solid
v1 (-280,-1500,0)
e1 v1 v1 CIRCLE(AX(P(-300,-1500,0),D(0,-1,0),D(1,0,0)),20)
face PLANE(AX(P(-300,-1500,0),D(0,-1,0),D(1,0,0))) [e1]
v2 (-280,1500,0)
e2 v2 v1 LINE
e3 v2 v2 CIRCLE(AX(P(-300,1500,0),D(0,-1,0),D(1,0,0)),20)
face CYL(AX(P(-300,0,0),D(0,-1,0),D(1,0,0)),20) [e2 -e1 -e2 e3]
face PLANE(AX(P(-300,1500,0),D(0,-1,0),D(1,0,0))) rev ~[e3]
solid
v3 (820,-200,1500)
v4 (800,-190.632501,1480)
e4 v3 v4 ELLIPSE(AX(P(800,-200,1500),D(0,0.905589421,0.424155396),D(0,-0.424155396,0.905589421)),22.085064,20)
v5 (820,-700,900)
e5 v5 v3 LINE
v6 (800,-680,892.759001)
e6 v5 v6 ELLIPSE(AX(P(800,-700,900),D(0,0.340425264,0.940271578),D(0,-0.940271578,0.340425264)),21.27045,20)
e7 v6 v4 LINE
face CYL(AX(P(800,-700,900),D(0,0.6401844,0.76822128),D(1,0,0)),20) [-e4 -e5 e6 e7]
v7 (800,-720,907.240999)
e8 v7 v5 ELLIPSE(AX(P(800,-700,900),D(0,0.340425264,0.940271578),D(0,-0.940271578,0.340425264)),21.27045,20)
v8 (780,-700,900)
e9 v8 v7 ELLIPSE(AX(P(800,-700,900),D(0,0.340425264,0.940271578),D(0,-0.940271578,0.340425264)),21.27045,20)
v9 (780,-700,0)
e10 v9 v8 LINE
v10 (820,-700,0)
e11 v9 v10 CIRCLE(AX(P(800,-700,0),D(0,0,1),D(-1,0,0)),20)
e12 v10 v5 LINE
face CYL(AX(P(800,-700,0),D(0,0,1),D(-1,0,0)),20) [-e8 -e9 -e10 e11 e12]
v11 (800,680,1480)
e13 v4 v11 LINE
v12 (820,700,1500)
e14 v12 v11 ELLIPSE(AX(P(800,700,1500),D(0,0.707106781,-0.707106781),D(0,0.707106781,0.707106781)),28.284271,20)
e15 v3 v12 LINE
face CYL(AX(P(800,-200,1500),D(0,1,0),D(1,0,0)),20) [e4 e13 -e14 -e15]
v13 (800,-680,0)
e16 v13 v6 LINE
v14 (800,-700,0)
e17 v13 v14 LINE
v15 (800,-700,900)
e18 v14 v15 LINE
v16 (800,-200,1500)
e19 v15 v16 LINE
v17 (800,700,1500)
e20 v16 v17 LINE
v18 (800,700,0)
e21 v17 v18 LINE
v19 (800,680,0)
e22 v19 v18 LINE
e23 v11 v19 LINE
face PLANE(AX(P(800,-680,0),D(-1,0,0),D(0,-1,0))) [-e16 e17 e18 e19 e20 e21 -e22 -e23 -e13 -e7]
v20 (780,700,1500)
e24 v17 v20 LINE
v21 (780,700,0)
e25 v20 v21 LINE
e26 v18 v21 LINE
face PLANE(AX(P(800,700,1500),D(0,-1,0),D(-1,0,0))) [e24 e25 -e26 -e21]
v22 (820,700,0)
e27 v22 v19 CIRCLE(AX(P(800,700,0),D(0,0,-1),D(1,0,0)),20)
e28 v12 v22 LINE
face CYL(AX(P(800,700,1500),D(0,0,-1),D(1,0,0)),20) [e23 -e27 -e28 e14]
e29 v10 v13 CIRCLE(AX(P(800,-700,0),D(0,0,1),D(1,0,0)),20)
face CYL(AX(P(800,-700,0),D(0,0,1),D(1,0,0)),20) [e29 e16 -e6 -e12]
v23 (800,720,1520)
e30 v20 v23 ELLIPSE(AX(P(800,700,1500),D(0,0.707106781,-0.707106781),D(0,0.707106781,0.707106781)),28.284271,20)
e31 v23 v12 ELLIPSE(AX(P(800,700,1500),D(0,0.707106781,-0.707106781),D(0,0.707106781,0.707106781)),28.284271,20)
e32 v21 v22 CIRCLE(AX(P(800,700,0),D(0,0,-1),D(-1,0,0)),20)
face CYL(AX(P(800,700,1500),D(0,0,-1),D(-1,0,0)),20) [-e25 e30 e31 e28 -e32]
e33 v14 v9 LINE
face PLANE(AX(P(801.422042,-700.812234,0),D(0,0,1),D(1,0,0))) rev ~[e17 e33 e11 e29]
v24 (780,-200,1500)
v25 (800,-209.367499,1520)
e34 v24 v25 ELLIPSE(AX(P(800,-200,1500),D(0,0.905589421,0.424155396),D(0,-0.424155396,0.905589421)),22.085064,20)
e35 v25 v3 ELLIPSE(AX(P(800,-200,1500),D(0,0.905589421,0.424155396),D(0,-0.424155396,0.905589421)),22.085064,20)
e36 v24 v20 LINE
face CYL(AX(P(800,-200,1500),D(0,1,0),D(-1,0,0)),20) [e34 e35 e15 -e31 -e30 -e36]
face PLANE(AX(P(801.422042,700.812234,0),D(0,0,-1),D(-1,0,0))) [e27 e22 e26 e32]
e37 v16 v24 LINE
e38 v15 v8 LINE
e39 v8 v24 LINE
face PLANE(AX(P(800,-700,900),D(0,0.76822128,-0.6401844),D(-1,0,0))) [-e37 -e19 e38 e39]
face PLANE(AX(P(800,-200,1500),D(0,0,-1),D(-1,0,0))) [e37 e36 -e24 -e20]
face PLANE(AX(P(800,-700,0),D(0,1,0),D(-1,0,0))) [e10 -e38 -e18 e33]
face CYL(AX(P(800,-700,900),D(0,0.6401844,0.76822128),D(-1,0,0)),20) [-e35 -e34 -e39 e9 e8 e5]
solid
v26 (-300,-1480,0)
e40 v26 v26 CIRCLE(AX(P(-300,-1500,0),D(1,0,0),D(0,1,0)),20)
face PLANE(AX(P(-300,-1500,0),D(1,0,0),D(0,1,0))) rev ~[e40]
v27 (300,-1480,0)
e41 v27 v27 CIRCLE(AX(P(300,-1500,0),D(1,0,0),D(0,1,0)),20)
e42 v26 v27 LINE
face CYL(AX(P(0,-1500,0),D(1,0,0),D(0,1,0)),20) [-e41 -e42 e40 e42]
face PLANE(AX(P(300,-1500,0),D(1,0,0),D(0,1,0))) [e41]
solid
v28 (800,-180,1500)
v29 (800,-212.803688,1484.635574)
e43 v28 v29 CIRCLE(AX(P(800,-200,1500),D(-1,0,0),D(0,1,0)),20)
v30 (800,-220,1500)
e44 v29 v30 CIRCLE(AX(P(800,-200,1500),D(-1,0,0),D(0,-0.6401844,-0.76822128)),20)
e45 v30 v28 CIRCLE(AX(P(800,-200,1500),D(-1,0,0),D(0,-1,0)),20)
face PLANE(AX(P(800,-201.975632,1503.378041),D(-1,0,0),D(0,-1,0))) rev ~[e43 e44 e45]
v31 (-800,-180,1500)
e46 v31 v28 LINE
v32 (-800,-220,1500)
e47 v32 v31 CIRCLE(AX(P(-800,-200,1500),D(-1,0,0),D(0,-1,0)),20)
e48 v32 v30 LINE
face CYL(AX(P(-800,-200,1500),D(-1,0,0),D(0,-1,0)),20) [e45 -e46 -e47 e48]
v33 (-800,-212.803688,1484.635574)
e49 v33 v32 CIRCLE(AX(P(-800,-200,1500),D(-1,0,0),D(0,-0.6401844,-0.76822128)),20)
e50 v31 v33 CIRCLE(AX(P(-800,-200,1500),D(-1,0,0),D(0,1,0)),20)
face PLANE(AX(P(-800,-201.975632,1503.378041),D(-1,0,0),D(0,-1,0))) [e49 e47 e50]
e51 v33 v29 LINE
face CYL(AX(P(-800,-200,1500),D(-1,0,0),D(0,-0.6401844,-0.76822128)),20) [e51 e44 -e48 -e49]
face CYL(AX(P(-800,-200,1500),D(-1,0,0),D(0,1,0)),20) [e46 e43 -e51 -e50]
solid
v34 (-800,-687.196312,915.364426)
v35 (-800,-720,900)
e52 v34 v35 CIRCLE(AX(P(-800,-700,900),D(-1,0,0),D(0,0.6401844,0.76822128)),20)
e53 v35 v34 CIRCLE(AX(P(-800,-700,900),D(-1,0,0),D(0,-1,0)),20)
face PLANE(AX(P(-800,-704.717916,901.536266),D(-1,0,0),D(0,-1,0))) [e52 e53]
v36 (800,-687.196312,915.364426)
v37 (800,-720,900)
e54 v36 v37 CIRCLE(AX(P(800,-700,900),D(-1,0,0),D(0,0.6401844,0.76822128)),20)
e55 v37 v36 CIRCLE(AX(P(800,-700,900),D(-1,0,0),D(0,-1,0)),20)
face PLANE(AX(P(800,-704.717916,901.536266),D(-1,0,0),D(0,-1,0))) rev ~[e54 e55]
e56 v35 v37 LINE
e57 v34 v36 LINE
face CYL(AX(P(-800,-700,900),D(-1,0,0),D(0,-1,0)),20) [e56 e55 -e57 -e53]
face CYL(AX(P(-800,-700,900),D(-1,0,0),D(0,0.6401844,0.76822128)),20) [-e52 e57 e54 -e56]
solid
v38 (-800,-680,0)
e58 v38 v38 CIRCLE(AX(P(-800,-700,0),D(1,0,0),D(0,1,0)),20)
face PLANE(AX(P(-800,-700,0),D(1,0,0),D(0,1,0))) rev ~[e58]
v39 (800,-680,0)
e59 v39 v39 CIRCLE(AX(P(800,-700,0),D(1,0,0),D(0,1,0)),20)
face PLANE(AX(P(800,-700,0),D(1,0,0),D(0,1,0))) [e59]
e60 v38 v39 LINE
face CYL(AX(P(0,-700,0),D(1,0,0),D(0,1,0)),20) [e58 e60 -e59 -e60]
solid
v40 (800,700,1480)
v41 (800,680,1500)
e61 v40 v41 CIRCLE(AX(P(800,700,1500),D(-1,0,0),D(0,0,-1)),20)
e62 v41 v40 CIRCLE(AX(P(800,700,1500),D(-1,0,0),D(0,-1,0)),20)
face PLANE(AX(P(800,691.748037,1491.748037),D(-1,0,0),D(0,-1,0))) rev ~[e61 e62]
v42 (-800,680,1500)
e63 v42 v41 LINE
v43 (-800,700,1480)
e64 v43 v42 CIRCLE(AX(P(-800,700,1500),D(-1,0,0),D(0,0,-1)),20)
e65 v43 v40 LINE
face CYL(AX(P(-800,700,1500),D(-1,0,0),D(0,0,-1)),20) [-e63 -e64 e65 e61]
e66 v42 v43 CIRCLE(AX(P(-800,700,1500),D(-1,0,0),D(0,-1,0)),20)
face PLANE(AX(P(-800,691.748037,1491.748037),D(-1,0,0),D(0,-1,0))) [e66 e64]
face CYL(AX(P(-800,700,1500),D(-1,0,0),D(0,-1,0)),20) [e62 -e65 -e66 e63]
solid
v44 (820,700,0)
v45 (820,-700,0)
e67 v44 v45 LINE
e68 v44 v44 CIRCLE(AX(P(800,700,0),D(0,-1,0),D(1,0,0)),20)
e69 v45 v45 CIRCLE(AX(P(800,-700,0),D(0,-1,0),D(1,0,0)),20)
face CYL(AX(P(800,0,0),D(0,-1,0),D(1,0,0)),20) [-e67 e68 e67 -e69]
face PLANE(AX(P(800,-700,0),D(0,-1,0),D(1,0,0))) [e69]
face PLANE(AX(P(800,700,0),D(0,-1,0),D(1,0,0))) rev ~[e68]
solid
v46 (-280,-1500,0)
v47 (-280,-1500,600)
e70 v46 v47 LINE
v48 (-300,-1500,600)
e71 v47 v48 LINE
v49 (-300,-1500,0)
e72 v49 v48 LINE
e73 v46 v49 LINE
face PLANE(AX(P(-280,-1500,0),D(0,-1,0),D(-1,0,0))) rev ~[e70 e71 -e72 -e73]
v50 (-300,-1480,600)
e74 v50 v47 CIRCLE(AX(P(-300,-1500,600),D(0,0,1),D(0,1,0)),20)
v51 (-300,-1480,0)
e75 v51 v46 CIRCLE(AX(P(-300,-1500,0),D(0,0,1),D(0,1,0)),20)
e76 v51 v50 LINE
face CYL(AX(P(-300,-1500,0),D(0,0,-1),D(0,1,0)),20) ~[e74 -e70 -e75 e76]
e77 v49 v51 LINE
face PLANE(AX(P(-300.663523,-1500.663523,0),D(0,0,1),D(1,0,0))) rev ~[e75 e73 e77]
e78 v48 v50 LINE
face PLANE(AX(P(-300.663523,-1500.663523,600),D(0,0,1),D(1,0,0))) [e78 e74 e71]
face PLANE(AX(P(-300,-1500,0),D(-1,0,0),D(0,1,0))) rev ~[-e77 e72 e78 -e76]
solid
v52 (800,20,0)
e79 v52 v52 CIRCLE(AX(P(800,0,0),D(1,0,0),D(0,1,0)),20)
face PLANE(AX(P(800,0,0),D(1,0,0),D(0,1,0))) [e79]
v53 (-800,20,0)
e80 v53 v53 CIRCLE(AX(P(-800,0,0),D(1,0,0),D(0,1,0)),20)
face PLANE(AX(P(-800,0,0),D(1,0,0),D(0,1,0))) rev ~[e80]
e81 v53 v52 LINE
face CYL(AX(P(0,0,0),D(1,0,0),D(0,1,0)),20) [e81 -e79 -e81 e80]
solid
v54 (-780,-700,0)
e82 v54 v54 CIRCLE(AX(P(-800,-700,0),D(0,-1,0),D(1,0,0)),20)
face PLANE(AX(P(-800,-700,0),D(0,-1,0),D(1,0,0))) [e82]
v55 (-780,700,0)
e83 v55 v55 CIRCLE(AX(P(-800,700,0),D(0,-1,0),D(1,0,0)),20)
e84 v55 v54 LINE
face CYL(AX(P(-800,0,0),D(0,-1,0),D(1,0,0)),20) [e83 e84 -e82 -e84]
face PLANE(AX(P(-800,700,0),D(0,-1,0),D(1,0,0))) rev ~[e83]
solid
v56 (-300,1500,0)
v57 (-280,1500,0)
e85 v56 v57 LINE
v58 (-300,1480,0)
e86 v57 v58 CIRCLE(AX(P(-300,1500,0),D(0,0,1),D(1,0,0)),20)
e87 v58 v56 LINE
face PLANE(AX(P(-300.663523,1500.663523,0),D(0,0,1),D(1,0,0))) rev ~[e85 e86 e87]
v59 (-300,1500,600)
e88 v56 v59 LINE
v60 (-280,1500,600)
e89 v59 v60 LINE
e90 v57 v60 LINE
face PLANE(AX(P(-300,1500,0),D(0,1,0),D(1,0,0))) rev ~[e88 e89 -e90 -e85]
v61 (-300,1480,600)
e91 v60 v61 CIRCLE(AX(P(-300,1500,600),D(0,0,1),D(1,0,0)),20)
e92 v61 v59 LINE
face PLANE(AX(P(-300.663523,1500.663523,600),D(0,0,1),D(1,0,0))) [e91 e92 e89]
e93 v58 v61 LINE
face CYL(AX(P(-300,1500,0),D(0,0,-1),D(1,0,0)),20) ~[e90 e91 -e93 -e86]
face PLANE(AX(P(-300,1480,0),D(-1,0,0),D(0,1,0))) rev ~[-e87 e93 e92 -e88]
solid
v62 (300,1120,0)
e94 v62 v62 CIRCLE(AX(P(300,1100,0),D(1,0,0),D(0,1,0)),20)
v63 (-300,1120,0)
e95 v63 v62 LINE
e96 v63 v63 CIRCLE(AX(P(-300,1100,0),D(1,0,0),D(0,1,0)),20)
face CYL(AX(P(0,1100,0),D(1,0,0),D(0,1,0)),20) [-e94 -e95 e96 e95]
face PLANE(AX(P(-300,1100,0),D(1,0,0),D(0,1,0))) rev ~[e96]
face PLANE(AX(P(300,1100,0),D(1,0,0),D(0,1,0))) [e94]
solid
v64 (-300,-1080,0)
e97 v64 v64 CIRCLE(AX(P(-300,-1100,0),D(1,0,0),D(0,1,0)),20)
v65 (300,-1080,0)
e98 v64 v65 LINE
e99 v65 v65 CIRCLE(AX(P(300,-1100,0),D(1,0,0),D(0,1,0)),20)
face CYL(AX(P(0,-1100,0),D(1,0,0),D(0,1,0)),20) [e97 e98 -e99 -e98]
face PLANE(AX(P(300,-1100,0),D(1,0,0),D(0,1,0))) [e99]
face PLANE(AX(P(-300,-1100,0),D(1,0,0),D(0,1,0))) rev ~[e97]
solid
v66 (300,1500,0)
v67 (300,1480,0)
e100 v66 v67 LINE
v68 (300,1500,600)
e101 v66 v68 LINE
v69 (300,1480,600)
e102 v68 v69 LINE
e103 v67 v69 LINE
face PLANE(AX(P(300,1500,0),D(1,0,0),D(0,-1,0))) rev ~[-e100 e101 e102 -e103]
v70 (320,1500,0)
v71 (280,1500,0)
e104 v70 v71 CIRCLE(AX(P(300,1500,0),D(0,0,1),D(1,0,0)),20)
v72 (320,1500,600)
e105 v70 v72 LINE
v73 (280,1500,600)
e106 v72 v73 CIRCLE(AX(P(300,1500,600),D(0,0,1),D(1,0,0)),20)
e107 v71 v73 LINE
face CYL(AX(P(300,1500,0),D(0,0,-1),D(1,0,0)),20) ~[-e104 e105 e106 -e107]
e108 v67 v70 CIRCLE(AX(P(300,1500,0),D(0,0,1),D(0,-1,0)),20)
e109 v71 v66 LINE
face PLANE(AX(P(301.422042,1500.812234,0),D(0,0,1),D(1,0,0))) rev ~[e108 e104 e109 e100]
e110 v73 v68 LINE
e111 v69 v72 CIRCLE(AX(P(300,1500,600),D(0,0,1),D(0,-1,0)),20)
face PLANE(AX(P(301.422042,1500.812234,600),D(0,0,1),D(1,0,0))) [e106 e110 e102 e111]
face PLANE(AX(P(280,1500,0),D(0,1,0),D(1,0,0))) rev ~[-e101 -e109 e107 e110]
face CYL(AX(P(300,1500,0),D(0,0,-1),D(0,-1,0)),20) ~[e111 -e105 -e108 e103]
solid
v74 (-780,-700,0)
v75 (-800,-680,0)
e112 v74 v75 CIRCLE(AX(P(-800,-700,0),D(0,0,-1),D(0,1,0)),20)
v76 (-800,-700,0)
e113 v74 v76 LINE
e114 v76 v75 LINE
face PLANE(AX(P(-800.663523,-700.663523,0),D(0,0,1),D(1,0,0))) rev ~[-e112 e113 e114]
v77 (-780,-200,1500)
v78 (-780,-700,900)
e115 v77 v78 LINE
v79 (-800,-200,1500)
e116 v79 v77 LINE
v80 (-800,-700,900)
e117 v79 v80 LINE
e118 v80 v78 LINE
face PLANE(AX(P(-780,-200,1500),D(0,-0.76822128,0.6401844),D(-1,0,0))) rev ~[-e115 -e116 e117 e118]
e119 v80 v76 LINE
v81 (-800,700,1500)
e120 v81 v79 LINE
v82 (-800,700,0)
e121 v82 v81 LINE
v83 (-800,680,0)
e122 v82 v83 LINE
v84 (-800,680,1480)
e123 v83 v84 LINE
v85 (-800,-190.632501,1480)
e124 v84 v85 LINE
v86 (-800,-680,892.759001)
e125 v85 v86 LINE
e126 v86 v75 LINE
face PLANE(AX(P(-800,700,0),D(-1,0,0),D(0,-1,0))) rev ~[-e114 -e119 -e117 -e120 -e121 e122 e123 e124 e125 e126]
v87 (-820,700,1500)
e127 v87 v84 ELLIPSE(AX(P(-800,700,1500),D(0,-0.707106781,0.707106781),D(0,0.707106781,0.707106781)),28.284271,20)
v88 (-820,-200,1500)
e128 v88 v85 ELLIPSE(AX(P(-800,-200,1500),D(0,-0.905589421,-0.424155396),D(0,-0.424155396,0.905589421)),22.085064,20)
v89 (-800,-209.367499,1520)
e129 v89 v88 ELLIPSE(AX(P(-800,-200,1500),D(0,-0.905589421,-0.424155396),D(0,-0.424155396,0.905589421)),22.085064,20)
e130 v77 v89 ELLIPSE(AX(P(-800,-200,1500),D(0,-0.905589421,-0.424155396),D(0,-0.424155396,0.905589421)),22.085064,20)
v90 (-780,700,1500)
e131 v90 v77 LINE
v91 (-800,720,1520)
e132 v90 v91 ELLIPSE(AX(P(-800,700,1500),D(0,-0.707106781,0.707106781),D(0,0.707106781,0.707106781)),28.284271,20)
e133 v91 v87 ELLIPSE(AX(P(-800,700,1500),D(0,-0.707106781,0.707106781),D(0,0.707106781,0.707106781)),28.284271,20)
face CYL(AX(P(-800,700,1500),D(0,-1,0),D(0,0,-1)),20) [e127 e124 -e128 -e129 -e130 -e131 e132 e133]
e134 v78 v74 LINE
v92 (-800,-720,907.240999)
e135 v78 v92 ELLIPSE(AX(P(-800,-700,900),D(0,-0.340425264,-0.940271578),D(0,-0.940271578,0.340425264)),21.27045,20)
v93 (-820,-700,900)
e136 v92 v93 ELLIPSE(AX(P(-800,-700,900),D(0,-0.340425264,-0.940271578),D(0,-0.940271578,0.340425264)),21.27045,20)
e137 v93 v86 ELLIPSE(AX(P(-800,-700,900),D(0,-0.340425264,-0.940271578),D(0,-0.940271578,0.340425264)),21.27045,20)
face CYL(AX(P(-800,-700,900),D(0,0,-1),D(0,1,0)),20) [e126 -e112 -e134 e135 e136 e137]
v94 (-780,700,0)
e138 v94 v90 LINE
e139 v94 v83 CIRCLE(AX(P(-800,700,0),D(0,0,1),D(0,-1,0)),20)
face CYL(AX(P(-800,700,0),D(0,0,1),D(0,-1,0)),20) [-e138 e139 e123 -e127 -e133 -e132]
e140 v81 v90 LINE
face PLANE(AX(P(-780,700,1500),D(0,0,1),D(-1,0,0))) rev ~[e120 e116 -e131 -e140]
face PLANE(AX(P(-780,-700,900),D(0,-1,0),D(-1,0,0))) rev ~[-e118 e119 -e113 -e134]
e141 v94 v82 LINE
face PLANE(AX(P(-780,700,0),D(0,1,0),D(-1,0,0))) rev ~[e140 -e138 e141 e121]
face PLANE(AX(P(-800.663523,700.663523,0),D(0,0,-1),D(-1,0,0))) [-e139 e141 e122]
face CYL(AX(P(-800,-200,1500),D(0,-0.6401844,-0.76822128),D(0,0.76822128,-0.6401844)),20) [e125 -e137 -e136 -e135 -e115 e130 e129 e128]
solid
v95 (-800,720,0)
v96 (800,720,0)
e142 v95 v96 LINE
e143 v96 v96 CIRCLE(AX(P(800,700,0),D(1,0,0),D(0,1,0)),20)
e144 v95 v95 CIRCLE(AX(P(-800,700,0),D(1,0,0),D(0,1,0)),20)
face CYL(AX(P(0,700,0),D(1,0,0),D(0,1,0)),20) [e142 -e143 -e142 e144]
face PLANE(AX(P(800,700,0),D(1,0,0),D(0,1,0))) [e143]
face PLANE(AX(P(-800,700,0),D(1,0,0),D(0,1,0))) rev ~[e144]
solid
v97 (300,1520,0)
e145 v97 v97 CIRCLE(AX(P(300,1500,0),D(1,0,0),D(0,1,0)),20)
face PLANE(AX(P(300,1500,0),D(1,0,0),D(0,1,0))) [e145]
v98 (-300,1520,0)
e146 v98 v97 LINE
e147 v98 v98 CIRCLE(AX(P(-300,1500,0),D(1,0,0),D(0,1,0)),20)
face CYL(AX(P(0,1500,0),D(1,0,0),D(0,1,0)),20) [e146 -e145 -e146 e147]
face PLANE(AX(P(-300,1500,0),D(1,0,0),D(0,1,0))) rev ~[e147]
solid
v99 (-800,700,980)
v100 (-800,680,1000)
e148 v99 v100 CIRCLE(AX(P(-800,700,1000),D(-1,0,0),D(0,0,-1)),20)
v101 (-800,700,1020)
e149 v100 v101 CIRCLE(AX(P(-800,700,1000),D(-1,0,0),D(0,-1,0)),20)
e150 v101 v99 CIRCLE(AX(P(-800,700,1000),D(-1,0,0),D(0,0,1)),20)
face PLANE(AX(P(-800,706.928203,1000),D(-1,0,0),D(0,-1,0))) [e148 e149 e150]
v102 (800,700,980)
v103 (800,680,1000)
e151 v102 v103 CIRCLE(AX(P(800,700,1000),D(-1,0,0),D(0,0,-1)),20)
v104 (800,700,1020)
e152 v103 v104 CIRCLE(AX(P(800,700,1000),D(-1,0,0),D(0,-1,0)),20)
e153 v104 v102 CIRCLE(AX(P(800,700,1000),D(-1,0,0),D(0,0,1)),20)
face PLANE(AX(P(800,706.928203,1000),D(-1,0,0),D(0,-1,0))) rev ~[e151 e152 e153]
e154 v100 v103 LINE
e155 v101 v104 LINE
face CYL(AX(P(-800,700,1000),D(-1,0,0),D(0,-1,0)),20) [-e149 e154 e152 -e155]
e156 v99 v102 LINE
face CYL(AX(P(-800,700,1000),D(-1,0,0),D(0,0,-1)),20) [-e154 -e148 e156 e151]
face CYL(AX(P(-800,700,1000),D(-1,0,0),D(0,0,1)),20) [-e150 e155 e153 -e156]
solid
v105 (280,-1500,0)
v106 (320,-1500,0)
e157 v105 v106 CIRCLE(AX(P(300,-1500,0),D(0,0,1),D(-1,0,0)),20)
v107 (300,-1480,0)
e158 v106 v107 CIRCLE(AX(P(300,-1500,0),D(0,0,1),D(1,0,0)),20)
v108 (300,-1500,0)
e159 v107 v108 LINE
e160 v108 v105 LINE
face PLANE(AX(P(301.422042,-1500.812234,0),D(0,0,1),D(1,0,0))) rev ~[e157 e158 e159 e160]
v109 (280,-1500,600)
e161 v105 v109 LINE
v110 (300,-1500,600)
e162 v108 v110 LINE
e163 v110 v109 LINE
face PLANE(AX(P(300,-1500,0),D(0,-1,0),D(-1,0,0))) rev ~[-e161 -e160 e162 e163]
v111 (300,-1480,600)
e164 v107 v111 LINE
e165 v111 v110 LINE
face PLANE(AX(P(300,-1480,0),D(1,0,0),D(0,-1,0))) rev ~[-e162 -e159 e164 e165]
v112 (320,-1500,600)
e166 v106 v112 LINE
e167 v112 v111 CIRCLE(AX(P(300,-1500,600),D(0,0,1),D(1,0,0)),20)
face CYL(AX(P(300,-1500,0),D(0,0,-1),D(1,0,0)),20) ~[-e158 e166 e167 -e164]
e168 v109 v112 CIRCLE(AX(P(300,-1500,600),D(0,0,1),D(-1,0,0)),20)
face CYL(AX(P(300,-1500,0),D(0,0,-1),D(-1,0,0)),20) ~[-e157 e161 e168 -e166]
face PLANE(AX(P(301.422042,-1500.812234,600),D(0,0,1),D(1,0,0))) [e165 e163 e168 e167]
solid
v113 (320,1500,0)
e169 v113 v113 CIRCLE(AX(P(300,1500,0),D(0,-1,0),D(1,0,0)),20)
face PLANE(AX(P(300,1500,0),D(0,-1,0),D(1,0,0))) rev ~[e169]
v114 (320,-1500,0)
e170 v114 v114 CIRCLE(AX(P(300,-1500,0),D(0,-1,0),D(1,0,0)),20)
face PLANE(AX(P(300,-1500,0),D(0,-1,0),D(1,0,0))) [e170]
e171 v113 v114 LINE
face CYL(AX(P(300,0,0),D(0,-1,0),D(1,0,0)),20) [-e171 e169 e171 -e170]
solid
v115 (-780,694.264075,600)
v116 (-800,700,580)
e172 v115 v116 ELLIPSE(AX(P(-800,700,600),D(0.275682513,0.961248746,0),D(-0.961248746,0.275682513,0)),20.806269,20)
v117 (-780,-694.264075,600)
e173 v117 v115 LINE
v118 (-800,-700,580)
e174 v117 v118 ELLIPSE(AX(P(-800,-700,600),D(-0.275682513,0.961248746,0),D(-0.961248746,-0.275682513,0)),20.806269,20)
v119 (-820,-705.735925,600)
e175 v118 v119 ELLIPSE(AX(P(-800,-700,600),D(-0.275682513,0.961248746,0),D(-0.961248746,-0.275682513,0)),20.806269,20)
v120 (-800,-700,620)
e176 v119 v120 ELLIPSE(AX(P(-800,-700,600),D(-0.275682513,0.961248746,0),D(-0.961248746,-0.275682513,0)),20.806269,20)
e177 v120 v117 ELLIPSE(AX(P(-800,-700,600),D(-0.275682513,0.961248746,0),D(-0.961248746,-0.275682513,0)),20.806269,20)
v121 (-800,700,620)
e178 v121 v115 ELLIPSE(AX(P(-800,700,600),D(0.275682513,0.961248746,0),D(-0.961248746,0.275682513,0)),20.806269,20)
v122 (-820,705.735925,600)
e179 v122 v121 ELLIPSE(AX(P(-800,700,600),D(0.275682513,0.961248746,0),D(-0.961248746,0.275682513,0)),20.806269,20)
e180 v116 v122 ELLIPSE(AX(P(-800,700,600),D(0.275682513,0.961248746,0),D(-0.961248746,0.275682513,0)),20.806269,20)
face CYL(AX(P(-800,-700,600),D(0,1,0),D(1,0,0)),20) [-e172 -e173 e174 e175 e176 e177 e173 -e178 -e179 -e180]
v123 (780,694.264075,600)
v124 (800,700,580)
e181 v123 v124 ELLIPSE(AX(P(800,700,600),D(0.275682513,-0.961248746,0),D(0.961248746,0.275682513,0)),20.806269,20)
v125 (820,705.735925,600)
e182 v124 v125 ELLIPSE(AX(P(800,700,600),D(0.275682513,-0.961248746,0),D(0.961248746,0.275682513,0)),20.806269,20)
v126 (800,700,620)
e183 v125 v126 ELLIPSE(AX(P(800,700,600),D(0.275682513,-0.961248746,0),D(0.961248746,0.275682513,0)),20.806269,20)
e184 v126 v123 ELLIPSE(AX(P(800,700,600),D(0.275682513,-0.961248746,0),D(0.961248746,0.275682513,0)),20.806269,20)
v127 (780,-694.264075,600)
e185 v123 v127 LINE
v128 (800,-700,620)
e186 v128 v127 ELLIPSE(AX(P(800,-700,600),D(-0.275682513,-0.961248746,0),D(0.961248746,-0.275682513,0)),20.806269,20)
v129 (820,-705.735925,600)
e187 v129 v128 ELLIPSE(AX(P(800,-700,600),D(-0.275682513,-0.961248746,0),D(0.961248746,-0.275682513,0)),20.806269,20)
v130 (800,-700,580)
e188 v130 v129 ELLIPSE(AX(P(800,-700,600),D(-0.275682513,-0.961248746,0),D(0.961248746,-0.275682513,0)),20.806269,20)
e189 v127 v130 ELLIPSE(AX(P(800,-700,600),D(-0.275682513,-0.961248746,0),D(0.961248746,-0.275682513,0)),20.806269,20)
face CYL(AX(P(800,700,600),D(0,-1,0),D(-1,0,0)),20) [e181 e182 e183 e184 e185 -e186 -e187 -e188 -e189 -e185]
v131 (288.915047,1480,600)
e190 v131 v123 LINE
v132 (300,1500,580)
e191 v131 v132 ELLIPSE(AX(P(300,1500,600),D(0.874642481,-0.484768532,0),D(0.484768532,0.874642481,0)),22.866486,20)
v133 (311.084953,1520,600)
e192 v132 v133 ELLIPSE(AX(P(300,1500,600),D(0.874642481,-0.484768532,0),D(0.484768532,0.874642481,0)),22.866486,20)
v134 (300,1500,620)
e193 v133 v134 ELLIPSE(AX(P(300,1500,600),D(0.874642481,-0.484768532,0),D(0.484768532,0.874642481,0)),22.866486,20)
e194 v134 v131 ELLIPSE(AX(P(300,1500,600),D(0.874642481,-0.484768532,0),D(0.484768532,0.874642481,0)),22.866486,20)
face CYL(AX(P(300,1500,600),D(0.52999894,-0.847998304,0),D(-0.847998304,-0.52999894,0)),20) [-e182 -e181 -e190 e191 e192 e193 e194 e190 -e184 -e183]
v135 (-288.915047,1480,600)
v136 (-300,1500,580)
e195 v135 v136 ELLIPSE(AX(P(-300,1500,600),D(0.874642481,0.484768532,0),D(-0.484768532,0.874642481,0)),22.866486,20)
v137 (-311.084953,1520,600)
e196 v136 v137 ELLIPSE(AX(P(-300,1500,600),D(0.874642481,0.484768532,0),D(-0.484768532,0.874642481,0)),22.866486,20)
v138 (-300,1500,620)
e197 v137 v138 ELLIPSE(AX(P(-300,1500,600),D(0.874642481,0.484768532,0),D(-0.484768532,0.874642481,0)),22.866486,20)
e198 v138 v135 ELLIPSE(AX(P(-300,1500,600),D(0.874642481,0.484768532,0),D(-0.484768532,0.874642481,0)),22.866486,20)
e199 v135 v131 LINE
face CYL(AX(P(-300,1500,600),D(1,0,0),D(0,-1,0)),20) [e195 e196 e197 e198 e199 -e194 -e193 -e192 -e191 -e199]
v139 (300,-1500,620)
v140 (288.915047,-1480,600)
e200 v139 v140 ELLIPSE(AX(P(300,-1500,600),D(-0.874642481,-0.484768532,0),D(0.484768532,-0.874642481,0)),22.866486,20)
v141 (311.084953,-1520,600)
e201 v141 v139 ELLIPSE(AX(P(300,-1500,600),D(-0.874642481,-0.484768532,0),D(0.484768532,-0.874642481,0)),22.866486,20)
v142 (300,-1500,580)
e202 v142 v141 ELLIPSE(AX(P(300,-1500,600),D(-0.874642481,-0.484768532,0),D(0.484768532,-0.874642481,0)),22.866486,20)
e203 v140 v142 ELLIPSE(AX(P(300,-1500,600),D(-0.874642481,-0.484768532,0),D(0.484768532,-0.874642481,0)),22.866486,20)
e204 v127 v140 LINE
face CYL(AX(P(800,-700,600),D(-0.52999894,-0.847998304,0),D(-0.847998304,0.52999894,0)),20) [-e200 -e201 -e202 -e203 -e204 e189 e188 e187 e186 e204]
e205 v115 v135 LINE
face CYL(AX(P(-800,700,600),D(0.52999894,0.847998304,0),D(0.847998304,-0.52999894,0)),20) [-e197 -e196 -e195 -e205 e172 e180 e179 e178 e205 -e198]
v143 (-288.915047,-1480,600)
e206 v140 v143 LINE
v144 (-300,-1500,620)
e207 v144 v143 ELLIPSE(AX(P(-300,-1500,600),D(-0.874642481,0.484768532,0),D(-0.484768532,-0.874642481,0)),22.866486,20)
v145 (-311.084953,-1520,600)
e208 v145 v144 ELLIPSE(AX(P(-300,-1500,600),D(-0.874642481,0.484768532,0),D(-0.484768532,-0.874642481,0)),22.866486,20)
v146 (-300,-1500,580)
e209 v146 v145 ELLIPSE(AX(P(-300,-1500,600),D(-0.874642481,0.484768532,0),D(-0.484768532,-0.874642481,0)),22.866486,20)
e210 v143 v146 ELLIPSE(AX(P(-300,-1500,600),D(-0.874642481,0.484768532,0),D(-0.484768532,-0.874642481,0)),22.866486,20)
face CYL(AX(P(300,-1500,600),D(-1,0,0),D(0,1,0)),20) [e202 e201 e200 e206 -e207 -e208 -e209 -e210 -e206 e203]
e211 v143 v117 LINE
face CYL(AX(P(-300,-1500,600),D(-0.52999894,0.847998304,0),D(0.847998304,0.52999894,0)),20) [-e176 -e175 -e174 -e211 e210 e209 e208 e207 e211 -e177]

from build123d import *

# Parameters (mm, degrees)
F1_R      = 20
F3_DEPTH  = 700
F4_DEPTH  = 1500
F2_R      = 20
F5_DEPTH  = 300
F6_DEPTH  = 800
F9_DEPTH  = 1600
F10_DEPTH = 600


with BuildPart() as f3:
    # F1 (on Front) → F3 (new body, symmetric)
    with BuildSketch(Plane.XZ):
        with Locations((800, 0)):
            Circle(F1_R)
    extrude(amount=F3_DEPTH, both=True)


with BuildPart() as f3b:
    # F1 (on Front) → F3, piece 2 (new body, symmetric)
    with BuildSketch(Plane.XZ):
        with Locations((-800, 0)):
            Circle(F1_R)
    extrude(amount=F3_DEPTH, both=True)


with BuildPart() as f4:
    # F1 (on Front) → F4 (new body, symmetric)
    with BuildSketch(Plane.XZ):
        with Locations((-300, 0)):
            Circle(F1_R)
    extrude(amount=F4_DEPTH, both=True)


with BuildPart() as f4b:
    # F1 (on Front) → F4, piece 2 (new body, symmetric)
    with BuildSketch(Plane.XZ):
        with Locations((300, 0)):
            Circle(F1_R)
    extrude(amount=F4_DEPTH, both=True)


with BuildPart() as f5:
    # F2 (on Right) → F5 (new body, symmetric)
    with BuildSketch(Plane.YZ):
        with Locations((1500, 0)):
            Circle(F2_R)
    extrude(amount=F5_DEPTH, both=True)


with BuildPart() as f5b:
    # F2 (on Right) → F5, piece 2 (new body, symmetric)
    with BuildSketch(Plane.YZ):
        with Locations((-1500, 0)):
            Circle(F2_R)
    extrude(amount=F5_DEPTH, both=True)


with BuildPart() as f5c:
    # F2 (on Right) → F5, piece 3 (new body, symmetric)
    with BuildSketch(Plane.YZ):
        with Locations((-1100, 0)):
            Circle(F2_R)
    extrude(amount=F5_DEPTH, both=True)


with BuildPart() as f5d:
    # F2 (on Right) → F5, piece 4 (new body, symmetric)
    with BuildSketch(Plane.YZ):
        with Locations((1100, 0)):
            Circle(F2_R)
    extrude(amount=F5_DEPTH, both=True)


with BuildPart() as f6:
    # F2 (on Right) → F6 (new body, symmetric)
    with BuildSketch(Plane.YZ):
        with Locations((-700, 0)):
            Circle(F2_R)
    extrude(amount=F6_DEPTH, both=True)


with BuildPart() as f6b:
    # F2 (on Right) → F6, piece 2 (new body, symmetric)
    with BuildSketch(Plane.YZ):
        Circle(F2_R)
    extrude(amount=F6_DEPTH, both=True)


with BuildPart() as f6c:
    # F2 (on Right) → F6, piece 3 (new body, symmetric)
    with BuildSketch(Plane.YZ):
        with Locations((700, 0)):
            Circle(F2_R)
    extrude(amount=F6_DEPTH, both=True)


with BuildPart() as f9:
    # F8 (on face) → F9 (new body)
    with BuildSketch(Plane(origin=(-800, 0, 0), x_dir=(0, -1, 0), z_dir=(-1, 0, 0))):
        with BuildLine():
            Line((700, 900), (700, 880))
            ThreePointArc((700, 880), (714.1421356237, 885.8578643763), (720, 900))
            ThreePointArc((720, 900), (708.483107925, 918.1117884245), (687.1963120067, 915.3644255919))
            Line((687.1963120067, 915.3644255919), (700, 900))
        make_face()
        with BuildLine():
            ThreePointArc((687.1963120067, 915.3644255919), (681.1945684463, 893.1914947249), (700, 880))
            Line((700, 880), (700, 900))
            Line((700, 900), (687.1963120067, 915.3644255919))
        make_face()
    extrude(amount=-F9_DEPTH)


with BuildPart() as f9b:
    # F8 (on face) → F9, piece 2 (new body)
    with BuildSketch(Plane(origin=(-800, 0, 0), x_dir=(0, -1, 0), z_dir=(-1, 0, 0))):
        with BuildLine():
            Line((200, 1500), (212.8036879933, 1484.6355744081))
            ThreePointArc((212.8036879933, 1484.6355744081), (218.1117884245, 1491.516892075), (220, 1500))
            ThreePointArc((220, 1500), (200, 1520), (180, 1500))
            Line((180, 1500), (200, 1500))
        make_face()
        with BuildLine():
            ThreePointArc((180, 1500), (191.516892075, 1481.8882115755), (212.8036879933, 1484.6355744081))
            Line((212.8036879933, 1484.6355744081), (200, 1500))
            Line((200, 1500), (180, 1500))
        make_face()
    extrude(amount=-F9_DEPTH)


with BuildPart() as f9c:
    # F8 (on face) → F9, piece 3 (new body)
    with BuildSketch(Plane(origin=(-800, 0, 0), x_dir=(0, -1, 0), z_dir=(-1, 0, 0))):
        with BuildLine():
            Line((-700, 1500), (-700, 1480))
            ThreePointArc((-700, 1480), (-685.8578643763, 1485.8578643763), (-680, 1500))
            Line((-680, 1500), (-700, 1500))
        make_face()
        with BuildLine():
            ThreePointArc((-680, 1500), (-714.1421356237, 1514.1421356237), (-700, 1480))
            Line((-700, 1480), (-700, 1500))
            Line((-700, 1500), (-680, 1500))
        make_face()
    extrude(amount=-F9_DEPTH)


with BuildPart() as f9d:
    # F8 (on face) → F9, piece 4 (new body)
    with BuildSketch(Plane(origin=(-800, 0, 0), x_dir=(0, -1, 0), z_dir=(-1, 0, 0))):
        with BuildLine():
            ThreePointArc((-700, 1020), (-720, 1000), (-700, 980))
            Line((-700, 980), (-700, 1020))
        make_face()
        with BuildLine():
            Line((-700, 1020), (-700, 980))
            ThreePointArc((-700, 980), (-685.8578643763, 985.8578643763), (-680, 1000))
            ThreePointArc((-680, 1000), (-685.8578643763, 1014.1421356237), (-700, 1020))
        make_face()
    extrude(amount=-F9_DEPTH)


with BuildPart() as f10:
    # F0 (on Top) → F10 (new body)
    with BuildSketch(Plane.XY):
        with BuildLine():
            Line((-300, -1500), (-300, -1480))
            ThreePointArc((-300, -1480), (-314.1421356237, -1514.1421356237), (-280, -1500))
            Line((-280, -1500), (-300, -1500))
        make_face()
    extrude(amount=F10_DEPTH)


with BuildPart() as f10b:
    # F0 (on Top) → F10, piece 2 (new body)
    with BuildSketch(Plane.XY):
        with BuildLine():
            ThreePointArc((320, -1500), (314.1421356237, -1485.8578643763), (300, -1480))
            Line((300, -1480), (300, -1500))
            Line((300, -1500), (280, -1500))
            ThreePointArc((280, -1500), (300, -1520), (320, -1500))
        make_face()
    extrude(amount=F10_DEPTH)


with BuildPart() as f10c:
    # F0 (on Top) → F10, piece 3 (new body)
    with BuildSketch(Plane.XY):
        with BuildLine():
            Line((300, 1500), (300, 1480))
            ThreePointArc((300, 1480), (314.1421356237, 1485.8578643763), (320, 1500))
            ThreePointArc((320, 1500), (300, 1520), (280, 1500))
            Line((280, 1500), (300, 1500))
        make_face()
    extrude(amount=F10_DEPTH)


with BuildPart() as f10d:
    # F0 (on Top) → F10, piece 4 (new body)
    with BuildSketch(Plane.XY):
        with BuildLine():
            ThreePointArc((-280, 1500), (-314.1421356237, 1514.1421356237), (-300, 1480))
            Line((-300, 1480), (-300, 1500))
            Line((-300, 1500), (-280, 1500))
        make_face()
    extrude(amount=F10_DEPTH)


with BuildPart() as f11:
    # F11: sweep along a path in F7
    with BuildLine(Plane.YZ.offset(800)) as f11_path:
        Line((-700, 0), (-700, 900))
        Line((-700, 900), (-200, 1500))
        Line((-200, 1500), (700, 1500))
        Line((700, 1500), (700, 0))
    # F0 (on Top) → F11 (sweep)
    with BuildSketch(Plane.XY):
        with BuildLine():
            Line((800, -700), (780, -700))
            ThreePointArc((780, -700), (800, -720), (820, -700))
            ThreePointArc((820, -700), (814.1421356237, -685.8578643763), (800, -680))
            Line((800, -680), (800, -700))
        make_face()
    sweep(path=f11_path.line, transition=Transition.RIGHT)


with BuildPart() as f12:
    # F12: sweep along a path in F8
    with BuildLine(Plane(origin=(-800, 0, 0), x_dir=(0, -1, 0), z_dir=(-1, 0, 0))) as f12_path:
        Line((-700, 0), (-700, 1500))
        Line((-700, 1500), (200, 1500))
        Line((200, 1500), (700, 900))
        Line((700, 900), (700, 0))
    # F0 (on Top) → F12 (sweep)
    with BuildSketch(Plane.XY):
        with BuildLine():
            Line((-780, -700), (-800, -700))
            Line((-800, -700), (-800, -680))
            ThreePointArc((-800, -680), (-814.1421356237, -714.1421356237), (-780, -700))
        make_face()
    sweep(path=f12_path.line, transition=Transition.RIGHT)


with BuildPart() as f14:
    # F14: sweep along a path in F13
    with BuildLine(Plane.XY.offset(600)) as f14_path:
        Line((300, -1500), (-300, -1500))
        Line((-300, -1500), (-800, -700))
        Line((-800, -700), (-800, 700))
        Line((-800, 700), (-300, 1500))
        Line((-300, 1500), (300, 1500))
        Line((300, 1500), (800, 700))
        Line((800, 700), (800, -700))
        Line((800, -700), (300, -1500))
    # F2 (on Right) → F14 (sweep)
    with BuildSketch(Plane.YZ):
        with Locations((-1500, 600)):
            Circle(F2_R)
    sweep(path=f14_path.line, transition=Transition.RIGHT)


solid = Compound([f3.part, f3b.part, f4.part, f4b.part, f5.part, f5b.part, f5c.part, f5d.part, f6.part, f6b.part, f6c.part, f9.part, f9b.part, f9c.part, f9d.part, f10.part, f10b.part, f10c.part, f10d.part, f11.part, f12.part, f14.part])
